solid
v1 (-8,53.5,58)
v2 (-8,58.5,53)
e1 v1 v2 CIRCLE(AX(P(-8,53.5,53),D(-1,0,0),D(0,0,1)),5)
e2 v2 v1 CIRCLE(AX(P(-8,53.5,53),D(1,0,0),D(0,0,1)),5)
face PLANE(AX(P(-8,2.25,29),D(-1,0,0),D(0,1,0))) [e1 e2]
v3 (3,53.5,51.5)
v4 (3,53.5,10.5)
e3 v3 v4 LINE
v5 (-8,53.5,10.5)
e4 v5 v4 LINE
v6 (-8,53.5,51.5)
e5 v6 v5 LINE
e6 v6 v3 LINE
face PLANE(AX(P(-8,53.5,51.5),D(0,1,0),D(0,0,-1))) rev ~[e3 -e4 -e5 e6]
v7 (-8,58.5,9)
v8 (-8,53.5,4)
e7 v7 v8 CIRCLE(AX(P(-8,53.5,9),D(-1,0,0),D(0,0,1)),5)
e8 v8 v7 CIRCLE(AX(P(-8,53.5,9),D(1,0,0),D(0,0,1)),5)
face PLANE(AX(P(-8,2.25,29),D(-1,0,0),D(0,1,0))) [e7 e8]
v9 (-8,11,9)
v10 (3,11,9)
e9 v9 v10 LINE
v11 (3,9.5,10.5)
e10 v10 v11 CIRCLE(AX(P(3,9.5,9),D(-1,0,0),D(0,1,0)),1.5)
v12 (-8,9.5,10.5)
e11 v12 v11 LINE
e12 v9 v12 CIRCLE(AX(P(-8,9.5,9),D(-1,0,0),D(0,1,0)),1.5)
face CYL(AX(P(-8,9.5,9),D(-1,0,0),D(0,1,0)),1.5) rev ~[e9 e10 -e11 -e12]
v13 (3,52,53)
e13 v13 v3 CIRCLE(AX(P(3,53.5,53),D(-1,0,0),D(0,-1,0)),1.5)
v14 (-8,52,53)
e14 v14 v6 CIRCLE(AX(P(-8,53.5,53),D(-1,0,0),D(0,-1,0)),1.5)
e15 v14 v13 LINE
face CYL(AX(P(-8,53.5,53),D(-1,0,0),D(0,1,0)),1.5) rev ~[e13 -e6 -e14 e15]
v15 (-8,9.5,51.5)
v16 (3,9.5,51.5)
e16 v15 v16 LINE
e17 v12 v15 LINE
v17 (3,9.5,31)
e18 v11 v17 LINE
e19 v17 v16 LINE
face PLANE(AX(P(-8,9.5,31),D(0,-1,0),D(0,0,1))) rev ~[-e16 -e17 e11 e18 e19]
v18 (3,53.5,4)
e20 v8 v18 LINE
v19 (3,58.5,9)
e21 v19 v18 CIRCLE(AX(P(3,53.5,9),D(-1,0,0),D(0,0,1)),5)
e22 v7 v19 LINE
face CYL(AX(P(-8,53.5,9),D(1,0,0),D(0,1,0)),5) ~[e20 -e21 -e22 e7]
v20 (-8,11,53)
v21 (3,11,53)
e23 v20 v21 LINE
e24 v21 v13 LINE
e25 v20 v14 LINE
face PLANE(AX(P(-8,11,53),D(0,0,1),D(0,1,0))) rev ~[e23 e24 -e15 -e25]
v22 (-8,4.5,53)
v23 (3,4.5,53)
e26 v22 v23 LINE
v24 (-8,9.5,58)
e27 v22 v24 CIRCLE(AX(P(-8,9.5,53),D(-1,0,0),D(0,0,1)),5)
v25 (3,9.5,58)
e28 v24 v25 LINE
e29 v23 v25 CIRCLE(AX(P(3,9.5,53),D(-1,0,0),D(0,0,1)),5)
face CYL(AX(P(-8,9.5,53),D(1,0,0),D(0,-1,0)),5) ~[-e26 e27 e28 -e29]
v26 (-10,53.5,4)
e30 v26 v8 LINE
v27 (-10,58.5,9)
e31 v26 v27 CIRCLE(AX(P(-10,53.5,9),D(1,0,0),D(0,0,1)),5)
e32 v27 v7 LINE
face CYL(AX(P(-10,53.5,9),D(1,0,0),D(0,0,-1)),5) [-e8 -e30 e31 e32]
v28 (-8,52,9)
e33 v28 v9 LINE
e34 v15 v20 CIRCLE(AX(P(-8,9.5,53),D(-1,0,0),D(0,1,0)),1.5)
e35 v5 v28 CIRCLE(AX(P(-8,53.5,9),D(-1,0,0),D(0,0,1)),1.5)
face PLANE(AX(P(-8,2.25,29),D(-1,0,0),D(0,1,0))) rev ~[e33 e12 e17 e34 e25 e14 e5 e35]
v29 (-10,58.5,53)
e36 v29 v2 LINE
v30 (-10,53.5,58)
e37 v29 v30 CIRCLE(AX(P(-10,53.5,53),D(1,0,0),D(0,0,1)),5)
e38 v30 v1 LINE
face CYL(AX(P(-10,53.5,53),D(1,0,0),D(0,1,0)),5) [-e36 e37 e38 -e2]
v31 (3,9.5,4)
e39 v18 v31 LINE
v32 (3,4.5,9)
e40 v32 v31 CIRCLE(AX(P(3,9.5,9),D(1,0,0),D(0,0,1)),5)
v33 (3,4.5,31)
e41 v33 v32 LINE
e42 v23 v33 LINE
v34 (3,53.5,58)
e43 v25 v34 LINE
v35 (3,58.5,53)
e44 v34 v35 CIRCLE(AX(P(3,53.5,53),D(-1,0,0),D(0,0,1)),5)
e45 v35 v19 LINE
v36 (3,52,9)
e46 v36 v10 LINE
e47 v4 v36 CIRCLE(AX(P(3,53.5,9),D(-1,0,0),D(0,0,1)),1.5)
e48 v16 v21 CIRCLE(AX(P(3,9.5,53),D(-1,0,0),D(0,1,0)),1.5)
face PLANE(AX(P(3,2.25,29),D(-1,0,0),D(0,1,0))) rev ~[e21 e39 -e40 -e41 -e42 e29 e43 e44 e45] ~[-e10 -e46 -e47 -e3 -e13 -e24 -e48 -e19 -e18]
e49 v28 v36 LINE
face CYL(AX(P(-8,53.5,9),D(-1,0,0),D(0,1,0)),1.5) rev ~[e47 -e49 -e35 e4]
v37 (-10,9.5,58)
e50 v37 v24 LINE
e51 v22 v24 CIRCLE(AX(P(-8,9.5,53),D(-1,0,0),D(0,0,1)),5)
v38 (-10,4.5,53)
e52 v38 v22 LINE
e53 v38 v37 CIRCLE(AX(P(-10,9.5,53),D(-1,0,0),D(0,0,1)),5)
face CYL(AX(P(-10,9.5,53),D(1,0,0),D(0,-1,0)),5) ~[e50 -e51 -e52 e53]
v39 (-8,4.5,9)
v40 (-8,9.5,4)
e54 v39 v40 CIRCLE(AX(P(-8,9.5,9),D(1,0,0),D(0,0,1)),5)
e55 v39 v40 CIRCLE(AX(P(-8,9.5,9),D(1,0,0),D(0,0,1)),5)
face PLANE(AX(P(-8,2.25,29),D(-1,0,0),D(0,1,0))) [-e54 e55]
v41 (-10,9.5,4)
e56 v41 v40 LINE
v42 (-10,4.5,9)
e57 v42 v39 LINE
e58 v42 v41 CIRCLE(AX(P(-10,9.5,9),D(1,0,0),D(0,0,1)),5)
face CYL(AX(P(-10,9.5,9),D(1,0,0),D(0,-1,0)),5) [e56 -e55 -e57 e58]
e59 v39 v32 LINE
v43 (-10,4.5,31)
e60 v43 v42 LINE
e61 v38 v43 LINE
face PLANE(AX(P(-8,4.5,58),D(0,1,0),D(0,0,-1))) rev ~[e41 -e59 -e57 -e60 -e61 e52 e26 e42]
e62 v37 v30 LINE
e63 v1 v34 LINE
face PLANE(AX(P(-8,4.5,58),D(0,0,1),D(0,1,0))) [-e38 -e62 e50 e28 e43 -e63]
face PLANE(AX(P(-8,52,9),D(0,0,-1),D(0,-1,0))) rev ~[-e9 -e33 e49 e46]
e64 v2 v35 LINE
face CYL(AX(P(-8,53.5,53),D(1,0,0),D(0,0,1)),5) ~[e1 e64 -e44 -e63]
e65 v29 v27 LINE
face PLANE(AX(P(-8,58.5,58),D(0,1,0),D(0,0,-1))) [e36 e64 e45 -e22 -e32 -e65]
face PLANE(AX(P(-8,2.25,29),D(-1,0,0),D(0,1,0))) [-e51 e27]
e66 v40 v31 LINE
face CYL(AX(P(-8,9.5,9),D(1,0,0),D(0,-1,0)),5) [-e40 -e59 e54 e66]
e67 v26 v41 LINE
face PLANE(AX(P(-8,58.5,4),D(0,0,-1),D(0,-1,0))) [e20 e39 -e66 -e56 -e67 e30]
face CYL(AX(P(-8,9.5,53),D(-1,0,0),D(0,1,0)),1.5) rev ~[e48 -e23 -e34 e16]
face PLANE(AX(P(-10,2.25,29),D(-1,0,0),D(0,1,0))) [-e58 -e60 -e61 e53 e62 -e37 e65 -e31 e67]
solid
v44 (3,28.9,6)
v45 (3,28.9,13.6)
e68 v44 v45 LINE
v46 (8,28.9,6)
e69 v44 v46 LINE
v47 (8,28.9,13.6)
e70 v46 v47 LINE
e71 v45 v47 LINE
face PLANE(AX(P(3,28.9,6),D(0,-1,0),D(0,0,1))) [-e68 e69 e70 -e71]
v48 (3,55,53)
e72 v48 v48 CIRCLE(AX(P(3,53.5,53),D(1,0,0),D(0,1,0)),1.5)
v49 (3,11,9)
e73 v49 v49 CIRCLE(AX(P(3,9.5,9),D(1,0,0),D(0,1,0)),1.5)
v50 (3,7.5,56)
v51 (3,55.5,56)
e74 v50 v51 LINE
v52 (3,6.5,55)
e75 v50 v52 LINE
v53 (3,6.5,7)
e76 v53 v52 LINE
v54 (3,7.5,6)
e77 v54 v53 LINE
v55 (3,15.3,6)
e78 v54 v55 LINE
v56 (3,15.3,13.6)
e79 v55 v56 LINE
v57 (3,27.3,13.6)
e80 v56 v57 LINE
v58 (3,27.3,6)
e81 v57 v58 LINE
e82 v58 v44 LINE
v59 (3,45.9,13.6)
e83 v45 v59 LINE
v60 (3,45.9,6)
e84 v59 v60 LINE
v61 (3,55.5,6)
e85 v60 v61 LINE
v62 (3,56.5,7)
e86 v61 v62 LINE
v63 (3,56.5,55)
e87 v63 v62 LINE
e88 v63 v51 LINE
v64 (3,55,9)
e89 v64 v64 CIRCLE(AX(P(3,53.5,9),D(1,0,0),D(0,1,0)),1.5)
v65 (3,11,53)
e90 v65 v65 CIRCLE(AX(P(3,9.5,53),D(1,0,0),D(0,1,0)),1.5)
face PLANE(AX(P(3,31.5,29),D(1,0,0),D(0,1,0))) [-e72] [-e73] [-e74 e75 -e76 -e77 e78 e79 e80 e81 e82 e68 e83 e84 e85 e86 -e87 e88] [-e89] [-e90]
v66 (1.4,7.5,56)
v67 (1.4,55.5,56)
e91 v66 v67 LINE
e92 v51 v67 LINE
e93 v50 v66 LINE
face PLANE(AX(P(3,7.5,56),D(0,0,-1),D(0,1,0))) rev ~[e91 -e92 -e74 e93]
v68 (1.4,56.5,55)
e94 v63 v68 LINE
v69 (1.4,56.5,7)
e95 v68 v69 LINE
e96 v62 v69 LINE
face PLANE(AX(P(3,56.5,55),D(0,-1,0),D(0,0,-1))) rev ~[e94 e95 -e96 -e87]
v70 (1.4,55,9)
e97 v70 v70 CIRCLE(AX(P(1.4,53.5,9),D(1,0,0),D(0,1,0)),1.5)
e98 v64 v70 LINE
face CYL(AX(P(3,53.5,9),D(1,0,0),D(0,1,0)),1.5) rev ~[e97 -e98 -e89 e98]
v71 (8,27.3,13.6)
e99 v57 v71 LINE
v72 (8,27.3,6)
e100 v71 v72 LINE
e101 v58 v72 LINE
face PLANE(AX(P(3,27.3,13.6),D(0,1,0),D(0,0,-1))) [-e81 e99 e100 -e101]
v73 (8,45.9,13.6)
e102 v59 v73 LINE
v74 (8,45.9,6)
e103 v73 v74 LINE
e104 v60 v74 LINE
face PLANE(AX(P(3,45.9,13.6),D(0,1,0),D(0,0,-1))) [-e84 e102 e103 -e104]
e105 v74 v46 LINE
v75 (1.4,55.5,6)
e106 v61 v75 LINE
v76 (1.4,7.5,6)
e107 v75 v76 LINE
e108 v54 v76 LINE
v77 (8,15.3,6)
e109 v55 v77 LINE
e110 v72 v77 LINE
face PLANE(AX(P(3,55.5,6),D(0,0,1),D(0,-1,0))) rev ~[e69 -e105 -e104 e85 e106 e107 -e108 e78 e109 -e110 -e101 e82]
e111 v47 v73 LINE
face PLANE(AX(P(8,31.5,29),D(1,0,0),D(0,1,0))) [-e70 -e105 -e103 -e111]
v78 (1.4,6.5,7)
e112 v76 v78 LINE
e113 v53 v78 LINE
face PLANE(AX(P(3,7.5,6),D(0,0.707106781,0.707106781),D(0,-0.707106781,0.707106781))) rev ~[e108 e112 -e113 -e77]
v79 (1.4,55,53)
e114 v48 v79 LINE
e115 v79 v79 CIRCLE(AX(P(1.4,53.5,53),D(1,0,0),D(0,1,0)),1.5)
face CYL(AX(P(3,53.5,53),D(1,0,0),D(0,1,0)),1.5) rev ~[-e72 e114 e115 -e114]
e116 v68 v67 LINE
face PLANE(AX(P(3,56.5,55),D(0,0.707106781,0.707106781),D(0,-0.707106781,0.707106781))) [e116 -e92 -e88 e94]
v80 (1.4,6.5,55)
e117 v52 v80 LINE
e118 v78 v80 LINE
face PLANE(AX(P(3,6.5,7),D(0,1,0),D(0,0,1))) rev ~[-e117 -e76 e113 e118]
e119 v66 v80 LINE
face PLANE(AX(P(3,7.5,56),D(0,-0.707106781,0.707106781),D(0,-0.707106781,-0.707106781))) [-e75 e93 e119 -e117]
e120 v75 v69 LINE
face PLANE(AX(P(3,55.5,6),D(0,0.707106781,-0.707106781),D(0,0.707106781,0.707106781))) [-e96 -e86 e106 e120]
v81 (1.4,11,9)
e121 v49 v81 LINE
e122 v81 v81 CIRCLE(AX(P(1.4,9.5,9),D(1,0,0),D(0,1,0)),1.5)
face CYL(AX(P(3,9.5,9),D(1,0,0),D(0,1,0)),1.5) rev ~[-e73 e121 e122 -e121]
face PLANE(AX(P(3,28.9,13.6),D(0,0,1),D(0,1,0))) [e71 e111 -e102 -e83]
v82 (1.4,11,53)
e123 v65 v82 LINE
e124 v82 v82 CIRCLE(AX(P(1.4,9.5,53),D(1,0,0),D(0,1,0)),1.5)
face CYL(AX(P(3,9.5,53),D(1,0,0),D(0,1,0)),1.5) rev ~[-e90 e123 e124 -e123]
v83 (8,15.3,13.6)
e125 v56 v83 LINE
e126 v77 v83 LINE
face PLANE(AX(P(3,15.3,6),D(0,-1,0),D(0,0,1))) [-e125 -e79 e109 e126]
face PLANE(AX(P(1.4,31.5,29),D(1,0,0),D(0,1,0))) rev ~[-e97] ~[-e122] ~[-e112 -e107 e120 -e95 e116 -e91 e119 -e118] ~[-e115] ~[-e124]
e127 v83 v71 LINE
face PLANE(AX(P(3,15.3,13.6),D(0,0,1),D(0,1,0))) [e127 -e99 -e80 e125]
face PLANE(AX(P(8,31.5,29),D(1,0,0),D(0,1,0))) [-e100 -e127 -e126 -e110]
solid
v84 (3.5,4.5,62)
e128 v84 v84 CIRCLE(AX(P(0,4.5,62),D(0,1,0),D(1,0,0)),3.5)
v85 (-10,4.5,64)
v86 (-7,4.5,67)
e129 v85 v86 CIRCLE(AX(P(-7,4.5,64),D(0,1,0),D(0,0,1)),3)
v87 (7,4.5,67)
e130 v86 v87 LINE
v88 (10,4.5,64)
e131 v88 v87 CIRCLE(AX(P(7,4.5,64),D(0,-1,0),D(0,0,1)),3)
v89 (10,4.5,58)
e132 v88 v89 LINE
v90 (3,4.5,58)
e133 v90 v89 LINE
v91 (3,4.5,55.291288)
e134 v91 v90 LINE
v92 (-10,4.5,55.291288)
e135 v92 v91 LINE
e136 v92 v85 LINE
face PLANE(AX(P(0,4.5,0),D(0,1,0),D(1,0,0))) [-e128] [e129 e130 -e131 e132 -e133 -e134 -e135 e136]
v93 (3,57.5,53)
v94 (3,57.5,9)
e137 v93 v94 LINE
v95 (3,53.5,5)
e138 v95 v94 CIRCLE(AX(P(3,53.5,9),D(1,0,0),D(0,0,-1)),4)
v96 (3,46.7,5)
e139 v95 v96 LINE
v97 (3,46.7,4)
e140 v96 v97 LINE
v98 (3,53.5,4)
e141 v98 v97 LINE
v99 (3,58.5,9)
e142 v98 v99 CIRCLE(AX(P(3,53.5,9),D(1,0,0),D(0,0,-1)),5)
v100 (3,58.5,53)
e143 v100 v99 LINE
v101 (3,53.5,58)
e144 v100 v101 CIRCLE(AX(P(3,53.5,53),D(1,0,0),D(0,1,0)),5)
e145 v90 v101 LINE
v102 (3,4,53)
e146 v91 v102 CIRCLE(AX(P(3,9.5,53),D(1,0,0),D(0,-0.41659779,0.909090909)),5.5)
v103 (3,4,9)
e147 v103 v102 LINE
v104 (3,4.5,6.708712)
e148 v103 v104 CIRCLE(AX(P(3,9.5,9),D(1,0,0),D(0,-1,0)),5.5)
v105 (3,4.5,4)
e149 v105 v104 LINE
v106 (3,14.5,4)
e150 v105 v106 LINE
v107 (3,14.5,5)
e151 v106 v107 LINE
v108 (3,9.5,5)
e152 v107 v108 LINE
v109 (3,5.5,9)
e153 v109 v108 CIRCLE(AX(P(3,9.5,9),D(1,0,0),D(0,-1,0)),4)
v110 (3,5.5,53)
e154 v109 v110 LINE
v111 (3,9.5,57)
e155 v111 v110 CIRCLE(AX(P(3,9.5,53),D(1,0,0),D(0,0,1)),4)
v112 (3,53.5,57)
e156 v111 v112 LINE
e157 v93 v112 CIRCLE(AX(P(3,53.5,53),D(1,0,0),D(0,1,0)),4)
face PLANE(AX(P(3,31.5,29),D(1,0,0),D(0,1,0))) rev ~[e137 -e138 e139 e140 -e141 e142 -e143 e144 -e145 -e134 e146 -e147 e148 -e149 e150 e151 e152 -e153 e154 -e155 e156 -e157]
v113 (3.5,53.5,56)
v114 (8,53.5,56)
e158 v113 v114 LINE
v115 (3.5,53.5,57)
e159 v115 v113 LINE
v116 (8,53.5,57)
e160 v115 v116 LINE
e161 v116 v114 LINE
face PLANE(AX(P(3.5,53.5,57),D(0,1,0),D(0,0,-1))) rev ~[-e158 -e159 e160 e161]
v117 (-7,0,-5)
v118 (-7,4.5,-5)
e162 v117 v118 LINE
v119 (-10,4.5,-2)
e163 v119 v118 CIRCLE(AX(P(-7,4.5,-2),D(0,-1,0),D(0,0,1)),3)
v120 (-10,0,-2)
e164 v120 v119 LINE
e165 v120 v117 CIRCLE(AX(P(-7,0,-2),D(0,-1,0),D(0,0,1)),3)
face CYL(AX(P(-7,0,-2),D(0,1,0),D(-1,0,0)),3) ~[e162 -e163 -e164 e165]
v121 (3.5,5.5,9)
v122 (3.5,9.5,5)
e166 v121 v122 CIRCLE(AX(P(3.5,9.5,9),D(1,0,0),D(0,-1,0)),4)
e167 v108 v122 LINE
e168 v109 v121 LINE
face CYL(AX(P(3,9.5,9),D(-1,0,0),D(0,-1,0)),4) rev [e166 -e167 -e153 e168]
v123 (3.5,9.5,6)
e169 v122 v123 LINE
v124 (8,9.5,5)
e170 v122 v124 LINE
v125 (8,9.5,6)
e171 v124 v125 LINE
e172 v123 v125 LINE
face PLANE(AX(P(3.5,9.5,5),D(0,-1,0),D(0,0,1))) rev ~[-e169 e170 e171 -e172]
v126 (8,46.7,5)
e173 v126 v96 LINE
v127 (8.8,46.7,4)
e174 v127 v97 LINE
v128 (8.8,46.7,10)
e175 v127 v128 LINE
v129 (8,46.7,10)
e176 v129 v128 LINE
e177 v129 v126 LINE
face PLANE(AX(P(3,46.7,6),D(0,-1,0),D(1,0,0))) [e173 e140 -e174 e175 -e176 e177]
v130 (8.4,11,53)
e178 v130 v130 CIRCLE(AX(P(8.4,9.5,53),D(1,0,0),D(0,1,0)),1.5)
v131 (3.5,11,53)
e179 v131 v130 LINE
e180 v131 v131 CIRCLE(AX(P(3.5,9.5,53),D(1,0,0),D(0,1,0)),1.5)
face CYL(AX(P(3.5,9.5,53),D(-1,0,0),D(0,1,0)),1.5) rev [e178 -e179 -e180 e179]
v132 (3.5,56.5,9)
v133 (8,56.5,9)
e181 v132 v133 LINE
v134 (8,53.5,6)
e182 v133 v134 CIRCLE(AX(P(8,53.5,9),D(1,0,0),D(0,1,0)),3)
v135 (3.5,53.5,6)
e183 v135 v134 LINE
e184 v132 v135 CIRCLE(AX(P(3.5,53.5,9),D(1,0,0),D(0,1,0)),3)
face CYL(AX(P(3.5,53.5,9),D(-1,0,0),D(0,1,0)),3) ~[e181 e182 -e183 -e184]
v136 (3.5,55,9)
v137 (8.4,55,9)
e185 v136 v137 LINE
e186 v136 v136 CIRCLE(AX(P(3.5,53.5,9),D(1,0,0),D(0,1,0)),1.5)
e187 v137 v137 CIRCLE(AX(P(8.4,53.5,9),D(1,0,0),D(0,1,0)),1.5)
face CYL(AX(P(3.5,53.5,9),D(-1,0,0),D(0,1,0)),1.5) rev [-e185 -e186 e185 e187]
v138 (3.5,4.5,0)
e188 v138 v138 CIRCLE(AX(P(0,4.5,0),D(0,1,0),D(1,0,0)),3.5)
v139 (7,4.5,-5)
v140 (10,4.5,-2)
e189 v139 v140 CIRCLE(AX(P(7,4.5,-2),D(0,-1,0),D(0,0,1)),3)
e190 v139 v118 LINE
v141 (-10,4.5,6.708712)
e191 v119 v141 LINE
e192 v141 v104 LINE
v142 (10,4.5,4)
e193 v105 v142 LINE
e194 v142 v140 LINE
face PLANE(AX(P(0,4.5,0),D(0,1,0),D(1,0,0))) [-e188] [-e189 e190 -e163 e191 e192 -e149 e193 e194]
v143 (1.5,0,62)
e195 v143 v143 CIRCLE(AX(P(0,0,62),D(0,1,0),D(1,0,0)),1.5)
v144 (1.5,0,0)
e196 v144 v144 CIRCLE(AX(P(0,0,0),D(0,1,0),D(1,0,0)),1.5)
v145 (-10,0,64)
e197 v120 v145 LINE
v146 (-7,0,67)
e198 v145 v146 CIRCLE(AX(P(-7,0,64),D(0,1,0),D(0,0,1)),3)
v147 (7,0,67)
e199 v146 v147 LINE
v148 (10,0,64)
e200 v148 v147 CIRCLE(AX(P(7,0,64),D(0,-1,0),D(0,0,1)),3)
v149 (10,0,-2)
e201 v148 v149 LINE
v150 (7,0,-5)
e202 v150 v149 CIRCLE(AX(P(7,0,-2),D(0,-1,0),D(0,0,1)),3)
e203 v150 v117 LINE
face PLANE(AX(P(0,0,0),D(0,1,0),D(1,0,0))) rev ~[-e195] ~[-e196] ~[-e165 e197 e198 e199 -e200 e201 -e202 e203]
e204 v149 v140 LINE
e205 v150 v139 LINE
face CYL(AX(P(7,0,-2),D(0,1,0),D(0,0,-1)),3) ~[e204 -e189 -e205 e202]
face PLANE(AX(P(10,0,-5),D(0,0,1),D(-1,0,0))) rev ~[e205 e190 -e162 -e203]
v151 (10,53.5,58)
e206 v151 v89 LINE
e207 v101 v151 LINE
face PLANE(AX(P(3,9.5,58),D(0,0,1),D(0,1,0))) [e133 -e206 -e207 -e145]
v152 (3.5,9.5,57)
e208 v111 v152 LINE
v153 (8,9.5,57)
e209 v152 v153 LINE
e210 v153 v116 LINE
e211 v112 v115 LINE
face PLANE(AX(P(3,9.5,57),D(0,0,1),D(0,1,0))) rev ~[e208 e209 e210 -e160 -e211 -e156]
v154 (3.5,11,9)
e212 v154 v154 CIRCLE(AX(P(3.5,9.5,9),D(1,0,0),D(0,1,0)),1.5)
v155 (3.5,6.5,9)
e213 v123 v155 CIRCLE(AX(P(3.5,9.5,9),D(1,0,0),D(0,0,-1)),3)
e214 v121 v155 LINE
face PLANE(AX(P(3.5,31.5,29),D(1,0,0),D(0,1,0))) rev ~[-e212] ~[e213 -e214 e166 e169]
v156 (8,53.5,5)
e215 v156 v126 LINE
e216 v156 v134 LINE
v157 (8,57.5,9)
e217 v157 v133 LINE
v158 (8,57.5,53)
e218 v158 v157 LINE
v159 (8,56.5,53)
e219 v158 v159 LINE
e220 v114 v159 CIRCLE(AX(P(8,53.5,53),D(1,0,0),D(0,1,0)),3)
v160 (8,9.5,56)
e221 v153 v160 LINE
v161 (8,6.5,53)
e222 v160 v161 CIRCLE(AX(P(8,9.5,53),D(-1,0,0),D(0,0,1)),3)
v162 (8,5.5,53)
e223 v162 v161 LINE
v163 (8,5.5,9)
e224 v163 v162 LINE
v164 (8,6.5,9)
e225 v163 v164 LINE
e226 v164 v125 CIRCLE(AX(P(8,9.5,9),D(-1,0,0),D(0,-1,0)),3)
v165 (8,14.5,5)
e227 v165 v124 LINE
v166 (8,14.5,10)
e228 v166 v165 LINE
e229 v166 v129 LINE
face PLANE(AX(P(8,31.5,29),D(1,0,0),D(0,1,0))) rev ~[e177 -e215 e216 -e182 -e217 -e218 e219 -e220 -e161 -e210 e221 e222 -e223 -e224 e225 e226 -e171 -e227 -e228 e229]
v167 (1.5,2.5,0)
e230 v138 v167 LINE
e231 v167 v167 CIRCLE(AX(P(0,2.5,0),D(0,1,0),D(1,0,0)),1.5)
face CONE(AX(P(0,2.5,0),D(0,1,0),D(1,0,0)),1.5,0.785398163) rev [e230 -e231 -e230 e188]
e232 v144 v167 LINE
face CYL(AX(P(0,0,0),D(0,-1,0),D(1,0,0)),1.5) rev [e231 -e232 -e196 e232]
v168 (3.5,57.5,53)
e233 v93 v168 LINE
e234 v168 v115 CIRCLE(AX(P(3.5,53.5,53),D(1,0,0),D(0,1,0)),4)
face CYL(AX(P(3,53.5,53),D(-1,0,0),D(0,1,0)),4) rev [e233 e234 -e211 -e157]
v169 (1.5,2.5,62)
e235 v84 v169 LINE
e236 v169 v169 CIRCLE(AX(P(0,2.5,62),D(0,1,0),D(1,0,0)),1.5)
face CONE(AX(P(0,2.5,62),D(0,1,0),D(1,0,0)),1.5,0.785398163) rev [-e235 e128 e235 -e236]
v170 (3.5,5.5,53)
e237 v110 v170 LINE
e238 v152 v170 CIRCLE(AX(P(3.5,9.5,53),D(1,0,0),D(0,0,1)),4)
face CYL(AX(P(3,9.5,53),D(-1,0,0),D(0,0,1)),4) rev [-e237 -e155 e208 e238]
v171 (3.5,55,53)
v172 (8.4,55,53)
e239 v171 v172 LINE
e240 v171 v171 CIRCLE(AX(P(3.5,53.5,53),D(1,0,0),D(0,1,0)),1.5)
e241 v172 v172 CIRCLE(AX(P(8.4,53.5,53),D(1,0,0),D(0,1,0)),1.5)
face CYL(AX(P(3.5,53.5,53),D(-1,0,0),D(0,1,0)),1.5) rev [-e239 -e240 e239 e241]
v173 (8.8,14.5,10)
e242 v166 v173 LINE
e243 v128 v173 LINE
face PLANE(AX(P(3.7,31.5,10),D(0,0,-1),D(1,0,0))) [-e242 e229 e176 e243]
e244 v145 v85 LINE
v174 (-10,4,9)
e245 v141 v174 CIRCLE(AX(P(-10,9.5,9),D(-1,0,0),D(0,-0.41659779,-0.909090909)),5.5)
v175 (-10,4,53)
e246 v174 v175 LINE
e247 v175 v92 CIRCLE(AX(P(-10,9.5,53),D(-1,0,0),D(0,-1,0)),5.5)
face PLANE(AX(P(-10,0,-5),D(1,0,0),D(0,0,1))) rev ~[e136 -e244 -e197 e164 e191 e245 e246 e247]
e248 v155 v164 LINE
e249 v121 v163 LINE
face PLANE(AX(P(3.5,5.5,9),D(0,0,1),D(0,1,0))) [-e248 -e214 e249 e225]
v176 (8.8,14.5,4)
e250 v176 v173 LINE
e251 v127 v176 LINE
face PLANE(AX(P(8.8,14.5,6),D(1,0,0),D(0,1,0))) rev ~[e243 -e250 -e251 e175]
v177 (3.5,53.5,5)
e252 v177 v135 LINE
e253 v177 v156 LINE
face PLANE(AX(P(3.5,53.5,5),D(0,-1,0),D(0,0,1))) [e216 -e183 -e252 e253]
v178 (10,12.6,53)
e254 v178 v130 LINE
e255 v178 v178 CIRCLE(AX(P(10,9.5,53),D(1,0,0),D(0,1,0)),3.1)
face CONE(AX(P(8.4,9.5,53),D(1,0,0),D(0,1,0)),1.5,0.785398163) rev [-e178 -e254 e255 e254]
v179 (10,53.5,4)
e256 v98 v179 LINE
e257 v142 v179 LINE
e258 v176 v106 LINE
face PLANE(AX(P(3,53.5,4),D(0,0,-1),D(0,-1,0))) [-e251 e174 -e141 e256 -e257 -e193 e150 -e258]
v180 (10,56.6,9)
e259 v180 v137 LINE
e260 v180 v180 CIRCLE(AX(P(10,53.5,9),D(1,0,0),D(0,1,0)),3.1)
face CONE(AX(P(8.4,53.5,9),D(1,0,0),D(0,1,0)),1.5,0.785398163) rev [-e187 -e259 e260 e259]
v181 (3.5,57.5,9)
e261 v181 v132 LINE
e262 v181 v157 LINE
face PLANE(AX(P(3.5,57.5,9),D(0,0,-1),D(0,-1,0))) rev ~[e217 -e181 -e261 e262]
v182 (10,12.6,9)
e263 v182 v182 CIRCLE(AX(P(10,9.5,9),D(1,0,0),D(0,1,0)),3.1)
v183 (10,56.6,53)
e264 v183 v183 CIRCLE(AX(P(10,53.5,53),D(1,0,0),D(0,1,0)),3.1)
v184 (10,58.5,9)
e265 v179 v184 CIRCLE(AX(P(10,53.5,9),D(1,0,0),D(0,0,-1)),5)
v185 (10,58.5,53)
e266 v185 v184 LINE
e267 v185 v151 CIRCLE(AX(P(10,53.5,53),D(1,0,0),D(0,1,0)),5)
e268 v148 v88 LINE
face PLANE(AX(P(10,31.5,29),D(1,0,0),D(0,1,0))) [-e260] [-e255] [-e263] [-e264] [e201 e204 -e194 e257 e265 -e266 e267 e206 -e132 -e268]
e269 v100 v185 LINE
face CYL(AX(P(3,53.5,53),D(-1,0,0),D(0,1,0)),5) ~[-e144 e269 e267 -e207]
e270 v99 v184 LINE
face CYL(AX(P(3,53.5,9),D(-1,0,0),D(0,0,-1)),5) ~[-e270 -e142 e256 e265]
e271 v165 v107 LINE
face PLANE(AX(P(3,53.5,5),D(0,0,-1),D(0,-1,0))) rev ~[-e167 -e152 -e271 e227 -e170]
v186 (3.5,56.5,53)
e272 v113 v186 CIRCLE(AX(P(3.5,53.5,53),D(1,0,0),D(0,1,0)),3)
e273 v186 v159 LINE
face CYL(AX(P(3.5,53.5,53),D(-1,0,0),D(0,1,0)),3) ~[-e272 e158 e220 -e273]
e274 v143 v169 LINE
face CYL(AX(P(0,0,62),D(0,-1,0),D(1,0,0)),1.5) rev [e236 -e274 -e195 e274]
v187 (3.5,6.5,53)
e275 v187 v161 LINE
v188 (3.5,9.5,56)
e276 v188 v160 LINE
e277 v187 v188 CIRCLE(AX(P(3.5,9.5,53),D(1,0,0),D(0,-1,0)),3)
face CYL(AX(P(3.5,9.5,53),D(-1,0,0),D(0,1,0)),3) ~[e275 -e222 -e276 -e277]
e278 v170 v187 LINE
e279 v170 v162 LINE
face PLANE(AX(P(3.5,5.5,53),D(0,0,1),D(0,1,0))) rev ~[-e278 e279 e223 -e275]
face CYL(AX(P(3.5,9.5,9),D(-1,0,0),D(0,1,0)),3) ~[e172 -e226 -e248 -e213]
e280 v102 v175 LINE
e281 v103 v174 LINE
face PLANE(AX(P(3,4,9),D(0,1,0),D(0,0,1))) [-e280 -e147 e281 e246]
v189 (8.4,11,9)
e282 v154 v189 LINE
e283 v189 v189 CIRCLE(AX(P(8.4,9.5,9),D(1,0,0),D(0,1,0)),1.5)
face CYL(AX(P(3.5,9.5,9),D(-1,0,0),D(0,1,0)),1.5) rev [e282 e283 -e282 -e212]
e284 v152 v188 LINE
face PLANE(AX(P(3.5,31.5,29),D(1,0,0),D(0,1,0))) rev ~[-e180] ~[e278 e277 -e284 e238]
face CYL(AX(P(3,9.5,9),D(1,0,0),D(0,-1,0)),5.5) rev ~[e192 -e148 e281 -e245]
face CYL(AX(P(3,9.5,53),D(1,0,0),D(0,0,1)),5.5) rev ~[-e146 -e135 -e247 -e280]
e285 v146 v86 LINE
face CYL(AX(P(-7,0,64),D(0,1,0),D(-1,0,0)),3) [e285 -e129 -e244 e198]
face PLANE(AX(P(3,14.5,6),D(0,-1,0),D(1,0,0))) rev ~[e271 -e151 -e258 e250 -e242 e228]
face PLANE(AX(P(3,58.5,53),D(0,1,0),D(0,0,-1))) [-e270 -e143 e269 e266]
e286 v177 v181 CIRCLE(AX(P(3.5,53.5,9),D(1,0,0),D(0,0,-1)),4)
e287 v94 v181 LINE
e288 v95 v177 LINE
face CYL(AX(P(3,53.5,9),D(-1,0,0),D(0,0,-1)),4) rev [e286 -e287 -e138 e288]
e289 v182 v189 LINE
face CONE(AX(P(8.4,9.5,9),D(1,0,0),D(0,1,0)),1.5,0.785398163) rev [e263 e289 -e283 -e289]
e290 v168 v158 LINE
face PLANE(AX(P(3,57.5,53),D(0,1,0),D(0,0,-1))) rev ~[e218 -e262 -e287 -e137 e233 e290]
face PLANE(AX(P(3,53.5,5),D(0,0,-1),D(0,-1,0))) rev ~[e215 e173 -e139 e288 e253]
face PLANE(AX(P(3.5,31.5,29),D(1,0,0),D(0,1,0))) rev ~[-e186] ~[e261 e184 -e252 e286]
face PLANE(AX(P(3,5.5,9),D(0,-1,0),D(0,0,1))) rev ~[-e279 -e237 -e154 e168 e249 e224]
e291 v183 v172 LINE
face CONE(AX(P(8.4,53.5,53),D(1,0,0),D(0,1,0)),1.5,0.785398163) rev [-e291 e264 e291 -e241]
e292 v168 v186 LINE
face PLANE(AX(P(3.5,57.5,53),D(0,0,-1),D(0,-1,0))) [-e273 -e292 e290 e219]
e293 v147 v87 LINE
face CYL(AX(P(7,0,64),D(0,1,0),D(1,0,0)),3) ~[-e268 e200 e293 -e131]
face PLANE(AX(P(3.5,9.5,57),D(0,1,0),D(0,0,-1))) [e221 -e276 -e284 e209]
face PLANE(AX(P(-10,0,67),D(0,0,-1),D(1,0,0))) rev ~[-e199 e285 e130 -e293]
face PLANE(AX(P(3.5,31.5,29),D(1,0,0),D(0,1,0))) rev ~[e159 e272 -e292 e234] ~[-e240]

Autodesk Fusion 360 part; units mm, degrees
sketch "Sketch1" plane through (0, 0, 0) normal (0, 1, 0) x (1, 0, 0) in component "UI Holder"
  circle A0 centre (0, 0) radius 1.5
  circle A1 centre (0, -62) radius 1.5
  line L0 (0, 0) -> (0, -62) construction
  line L1 (-10, -67) -> (10, -67)
  line L2 (10, -67) -> (10, 5)
  line L3 (10, 5) -> (-10, 5)
  line L4 (-10, 5) -> (-10, -67)
  line L5 (0, 5) -> (0, 0) construction
  line L6 (0, -31) -> (10, -31) construction
  dimension "d1" = 3
  dimension "d2" = 3
  dimension "d3" = 62
  dimension "d4" = 72
  dimension "d5" = 20
extrude "Extrude1" add sketch "Sketch1" along normal blind 4.5 makes body 1 in component "UI Holder"
fillet "Fillet1" radius 3 4 edges at (10, 2.25, 67) (10, 2.25, -5) (-10, 2.25, -5) (-10, 2.25, 67) on bodies 1 in component "UI Holder"
ref_plane "WorkPlane2" through (-10, 2.25, 31) normal (-1, 0, 0) x (0, 0, 1) in component "M5Stack Core"
sketch "Sketch3" plane through (-10, 2.25, 29) normal (-1, 0, 0) x (0, 1, 0) in component "M5Stack Core"
  line L0 (2.25, -35) -> (2.25, 31)
  line L1 (2.25, -29) -> (56.25, -29)
  line L2 (56.25, -29) -> (56.25, 25)
  line L3 (56.25, 25) -> (2.25, 25)
  line L4 (2.25, 25) -> (2.25, -29)
  line L5 (7.25, -24) -> (51.25, -24)
  line L6 (51.25, -24) -> (51.25, 20)
  line L7 (51.25, 20) -> (7.25, 20)
  line L8 (7.25, 20) -> (7.25, -24)
  line L9 (29.25, -29) -> (29.25, -24) construction
  line L10 (2.25, -2) -> (7.25, -2)
  circle A0 centre (7.25, -24) radius 1.5
  circle A1 centre (51.25, -24) radius 1.5
  circle A2 centre (7.25, 20) radius 1.5
  circle A3 centre (51.25, 20) radius 1.5
  point P0 (2.25, -2)
  point P1 (2.25, -2)
  dimension "d12" = 54
  dimension "d13" = 54
  dimension "d14" = 44
  dimension "d15" = 44
  dimension "d16" = 3
  dimension "d17" = 3
  dimension "d18" = 3
  dimension "d19" = 3
extrude "Extrude1'" add sketch "Sketch3" against normal blind 2 separate body contours L5 L6 L7 L8 A0 A1 A2 A3 | L0 L1 L2 L3 L4 | L7 L8 A2 | L7 L8 A2 | L5 L8 A0 | L5 L8 A0 | L6 L7 A3 | L6 L7 A3 | L5 L6 A1 | L5 L6 A1 makes body 2 in component "M5Stack Core"
fillet "Fillet1'" radius 5 4 edges at (-9, 58.5, 58) (-9, 4.5, 58) (-9, 4.5, 4) (-9, 58.5, 4) on bodies 2 in component "M5Stack Core"
extrude "Extrude2" add sketch "Sketch3" against normal blind 11 from surface at -2 bodies 2 in component "M5Stack Core"
fillet "Fillet2" radius 5 4 edges at (-2.5, 58.5, 58) (-2.5, 4.5, 58) (-2.5, 4.5, 4) (-2.5, 58.5, 4) on bodies 2 in component "M5Stack Core"
ref_plane "WorkPlane1" through (3, 31.5, 31) normal (1, 0, 0) x (0, 0, -1) in component "M5Stack UI PCB"
sketch "Sketch1 (2)" plane through (3, 31.5, 29) normal (1, 0, 0) x (0, 1, 0) in component "M5Stack UI PCB"
  circle A0 centre (22, 24) radius 1.5
  circle A1 centre (-22, 24) radius 1.5
  circle A2 centre (-22, -20) radius 1.5
  circle A3 centre (22, -20) radius 1.5
  line L0 (-24, 27) -> (24, 27)
  line L1 (25, 26) -> (25, -22)
  line L2 (24, -23) -> (-24, -23)
  line L3 (-25, -22) -> (-25, 26)
  line L4 (-22, 24) -> (-22, -20) construction
  line L5 (-22, -20) -> (22, -20) construction
  line L6 (-22, 2) -> (-25, 2) construction
  line L7 (0, -20) -> (0, -23) construction
  line L8 (-24, 27) -> (-25, 26)
  line L9 (-24, -23) -> (-25, -22)
  line L10 (24, -23) -> (25, -22)
  line L11 (25, 26) -> (24, 27)
  line L12 (-2.6, -15.4) -> (14.4, -15.4)
  line L13 (14.4, -15.4) -> (14.4, -23)
  line L14 (14.4, -23) -> (-2.6, -23)
  line L15 (-2.6, -23) -> (-2.6, -15.4)
  line L16 (-16.2, -15.4) -> (-4.2, -15.4)
  line L17 (-4.2, -15.4) -> (-4.2, -23)
  line L18 (-4.2, -23) -> (-16.2, -23)
  line L19 (-16.2, -23) -> (-16.2, -15.4)
  line L20 (-16.2, -19.2) -> (-25, -19.2) construction
  line L21 (14.4, -19.2) -> (25, -19.2) construction
  point P0 (-25, 27)
  point P1 (25, 27)
  point P2 (25, -23)
  point P3 (-25, -23)
  point P4 (0, -23)
  point P5 (-25, 2)
  dimension "d30" = 50
  dimension "d31" = 50
  dimension "d32" = 1
  dimension "d33" = 1
  dimension "d34" = 1
  dimension "d35" = 1
  dimension "d36" = 1
  dimension "d37" = 1
  dimension "d38" = 1
  dimension "d39" = 1
  dimension "d42" = 17
  dimension "d43" = 7.6
  dimension "d44" = 12
  dimension "d45" = 7.6
  dimension "d46" = 8.8
  dimension "d47" = 10.6
extrude "Extrude1''" add sketch "Sketch1 (2)" against normal blind 1.6 separate body makes body 3 in component "M5Stack UI PCB"
extrude "Extrude2'" add sketch "Sketch1 (2)" along normal blind 5 contours L2 L16 L17 L18 L19 | L2 L12 L13 L14 L15 bodies 3 in component "M5Stack UI PCB"
ref_plane "WorkPlane1" through (3, 31.5, 31) normal (1, 0, 0) x (0, 0, -1) in component "UI Holder"
sketch "Sketch2" plane through (3, 31.5, 29) normal (1, 0, 0) x (0, 1, 0) in component "UI Holder"
  circle A0 centre (-22, 24) radius 1.5
  circle A1 centre (22, 24) radius 1.5
  circle A2 centre (22, -20) radius 1.5
  circle A3 centre (-22, -20) radius 1.5
  arc A4 (27, 24) -> (22, 29) centre (22, 24) ccw
  arc A5 (-22, 29) -> (-27, 24) centre (-22, 24) ccw
  line L0 (-27, 29) -> (27, 29)
  line L1 (-27, -25) -> (-27, 29)
  line L2 (27, 29) -> (27, -25)
  line L3 (27, -25) -> (-27, -25)
  arc A6 (22, -25) -> (27, -20) centre (22, -20) ccw
  arc A7 (-27, -20) -> (-22, -25) centre (-22, -20) ccw
  line L4 (-22, 29) -> (22, 29)
  line L5 (27, 24) -> (27, -20)
  line L6 (22, -25) -> (-22, -25)
  line L7 (-27, -20) -> (-27, 24)
  arc A8 (-22, 28) -> (-26, 24) centre (-22, 24) ccw
  line L8 (-26, -20) -> (-26, 24)
  arc A9 (-26, -20) -> (-22, -24) centre (-22, -20) ccw
  line L9 (22, -24) -> (-22, -24)
  arc A10 (22, -24) -> (26, -20) centre (22, -20) ccw
  line L10 (26, 24) -> (26, -20)
  arc A11 (26, 24) -> (22, 28) centre (22, 24) ccw
  line L11 (-22, 28) -> (22, 28)
  circle A12 centre (-22, 24) radius 3
  line L12 (-22, 28) -> (-22, 27)
  line L13 (-26, 24) -> (-25, 24)
  circle A13 centre (22, 24) radius 3
  line L14 (22, 28) -> (22, 27)
  line L15 (26, 24) -> (25, 24)
  circle A14 centre (22, -20) radius 3
  circle A15 centre (-22, -20) radius 3
  line L16 (22, -24) -> (22, -23)
  line L17 (26, -20) -> (25, -20)
  line L18 (-22, -24) -> (-22, -23)
  line L19 (-26, -20) -> (-25, -20)
  arc A16 (-22, 29.5) -> (-27.5, 24) centre (-22, 24) ccw
  line L20 (-27.5, -20) -> (-27.5, 24)
  arc A17 (-27.5, -20) -> (-22, -25.5) centre (-22, -20) ccw
  line L21 (22, -25.5) -> (-22, -25.5)
  arc A18 (22, -25.5) -> (27.5, -20) centre (22, -20) ccw
  line L22 (27.5, 24) -> (27.5, -20)
  arc A19 (27.5, 24) -> (22, 29.5) centre (22, 24) ccw
  line L23 (-22, 29.5) -> (22, 29.5)
  dimension "d51" = 1
  dimension "d55" = 1.5
  dimension "d56" = 1.5
  dimension "d57" = 1.5
  dimension "d58" = 1.5
  dimension "d76" = -0.5
ref_plane "WorkPlane2" through (4.7, 31.5, 6) normal (0, 0, -1) x (0, -1, 0) in component "UI Holder"
sketch "Sketch3 (2)" plane through (3.7, 31.5, 6) normal (0, 0, -1) x (1, 0, 0) in component "UI Holder"
  line L0 (-0.7, 16.2) -> (4.3, 16.2)
  line L1 (4.3, 16.2) -> (4.3, 4.2)
  line L2 (-0.7, 4.2) -> (4.3, 4.2)
  line L3 (-0.7, 2.6) -> (4.3, 2.6)
  line L4 (4.3, 2.6) -> (4.3, -14.4)
  line L5 (-0.7, -14.4) -> (4.3, -14.4)
  line L6 (-0.7, 17) -> (5.1, 17)
  line L7 (5.1, 17) -> (5.1, 3.4)
  line L8 (-0.7, 3.4) -> (5.1, 3.4)
  line L9 (-0.7, 3.4) -> (5.1, 3.4)
  line L10 (5.1, 3.4) -> (5.1, -15.2)
  line L11 (-0.7, -15.2) -> (5.1, -15.2)
  line L12 (-0.7, 17) -> (-0.7, -15.2)
  dimension "d53" = -0.8
  dimension "d54" = -0.8
extrude "Extrude2''" add sketch "Sketch2" along normal up to surface (7 mm away) contours A4 A5 L0 L1 L2 L3 A6 A7 L4 L5 L6 L7 | A5 L0 L1 A16 | L0 L1 A16 | L1 L3 A7 A17 | L1 L3 A17 bodies 1 in component "UI Holder"
extrude "Extrude3" add sketch "Sketch2" along normal up to surface (6.5 mm away) from surface at 0.5 contours A8 A12 L12 L13 | A11 A13 L14 L15 | A12 | A9 A15 L18 L19 | A13 | A15 | A10 A14 L16 L17 | A14 bodies 1 in component "UI Holder"
extrude "Extrude4" add sketch "Sketch2" against normal blind 2 from surface at 7 contours L8 L9 L10 L11 A12 L12 L13 A13 L14 L15 A14 A15 L16 L17 L18 L19 bodies 1 in component "UI Holder"
extrude "Extrude5" cut sketch "Sketch3 (2)" along normal blind 6 and the other way blind 4 bodies 1 in component "UI Holder"
chamfer "Chamfer1" distance 2 angle 45 2 edges at (-1.3985, 4.5, -0.5424) (-1.3985, 4.5, 61.4576) on bodies 1 in component "UI Holder"
extrude "Extrude6" cut sketch "Sketch2" against normal up to surface (13 mm away) contours A5 L0 L1 A16 | L1 L7 A16 L20 A17 | L1 L3 A7 A17 bodies 1 in component "UI Holder"
chamfer "Chamfer2" distance 1.6 angle 45 4 edges at (10, 8.1015, 52.4576) (10, 52.1015, 52.4576) (10, 52.1015, 8.4576) (10, 8.1015, 8.4576) on bodies 1 in component "UI Holder"
component "UI Holder" placed x (1, 0, 0) y (0, 1, 0) z (0, 0, 1) at (0, 0, 0)
component "M5Stack Core" placed x (1, 0, 0) y (0, 1, 0) z (0, 0, 1) at (0, 0, 0)
component "M5Stack UI PCB" placed x (1, 0, 0) y (0, 1, 0) z (0, 0, 1) at (0, 0, 0)
equation "d33 = d32"
equation "d35 = d34"
equation "d37 = d36"
equation "d39 = d38"
